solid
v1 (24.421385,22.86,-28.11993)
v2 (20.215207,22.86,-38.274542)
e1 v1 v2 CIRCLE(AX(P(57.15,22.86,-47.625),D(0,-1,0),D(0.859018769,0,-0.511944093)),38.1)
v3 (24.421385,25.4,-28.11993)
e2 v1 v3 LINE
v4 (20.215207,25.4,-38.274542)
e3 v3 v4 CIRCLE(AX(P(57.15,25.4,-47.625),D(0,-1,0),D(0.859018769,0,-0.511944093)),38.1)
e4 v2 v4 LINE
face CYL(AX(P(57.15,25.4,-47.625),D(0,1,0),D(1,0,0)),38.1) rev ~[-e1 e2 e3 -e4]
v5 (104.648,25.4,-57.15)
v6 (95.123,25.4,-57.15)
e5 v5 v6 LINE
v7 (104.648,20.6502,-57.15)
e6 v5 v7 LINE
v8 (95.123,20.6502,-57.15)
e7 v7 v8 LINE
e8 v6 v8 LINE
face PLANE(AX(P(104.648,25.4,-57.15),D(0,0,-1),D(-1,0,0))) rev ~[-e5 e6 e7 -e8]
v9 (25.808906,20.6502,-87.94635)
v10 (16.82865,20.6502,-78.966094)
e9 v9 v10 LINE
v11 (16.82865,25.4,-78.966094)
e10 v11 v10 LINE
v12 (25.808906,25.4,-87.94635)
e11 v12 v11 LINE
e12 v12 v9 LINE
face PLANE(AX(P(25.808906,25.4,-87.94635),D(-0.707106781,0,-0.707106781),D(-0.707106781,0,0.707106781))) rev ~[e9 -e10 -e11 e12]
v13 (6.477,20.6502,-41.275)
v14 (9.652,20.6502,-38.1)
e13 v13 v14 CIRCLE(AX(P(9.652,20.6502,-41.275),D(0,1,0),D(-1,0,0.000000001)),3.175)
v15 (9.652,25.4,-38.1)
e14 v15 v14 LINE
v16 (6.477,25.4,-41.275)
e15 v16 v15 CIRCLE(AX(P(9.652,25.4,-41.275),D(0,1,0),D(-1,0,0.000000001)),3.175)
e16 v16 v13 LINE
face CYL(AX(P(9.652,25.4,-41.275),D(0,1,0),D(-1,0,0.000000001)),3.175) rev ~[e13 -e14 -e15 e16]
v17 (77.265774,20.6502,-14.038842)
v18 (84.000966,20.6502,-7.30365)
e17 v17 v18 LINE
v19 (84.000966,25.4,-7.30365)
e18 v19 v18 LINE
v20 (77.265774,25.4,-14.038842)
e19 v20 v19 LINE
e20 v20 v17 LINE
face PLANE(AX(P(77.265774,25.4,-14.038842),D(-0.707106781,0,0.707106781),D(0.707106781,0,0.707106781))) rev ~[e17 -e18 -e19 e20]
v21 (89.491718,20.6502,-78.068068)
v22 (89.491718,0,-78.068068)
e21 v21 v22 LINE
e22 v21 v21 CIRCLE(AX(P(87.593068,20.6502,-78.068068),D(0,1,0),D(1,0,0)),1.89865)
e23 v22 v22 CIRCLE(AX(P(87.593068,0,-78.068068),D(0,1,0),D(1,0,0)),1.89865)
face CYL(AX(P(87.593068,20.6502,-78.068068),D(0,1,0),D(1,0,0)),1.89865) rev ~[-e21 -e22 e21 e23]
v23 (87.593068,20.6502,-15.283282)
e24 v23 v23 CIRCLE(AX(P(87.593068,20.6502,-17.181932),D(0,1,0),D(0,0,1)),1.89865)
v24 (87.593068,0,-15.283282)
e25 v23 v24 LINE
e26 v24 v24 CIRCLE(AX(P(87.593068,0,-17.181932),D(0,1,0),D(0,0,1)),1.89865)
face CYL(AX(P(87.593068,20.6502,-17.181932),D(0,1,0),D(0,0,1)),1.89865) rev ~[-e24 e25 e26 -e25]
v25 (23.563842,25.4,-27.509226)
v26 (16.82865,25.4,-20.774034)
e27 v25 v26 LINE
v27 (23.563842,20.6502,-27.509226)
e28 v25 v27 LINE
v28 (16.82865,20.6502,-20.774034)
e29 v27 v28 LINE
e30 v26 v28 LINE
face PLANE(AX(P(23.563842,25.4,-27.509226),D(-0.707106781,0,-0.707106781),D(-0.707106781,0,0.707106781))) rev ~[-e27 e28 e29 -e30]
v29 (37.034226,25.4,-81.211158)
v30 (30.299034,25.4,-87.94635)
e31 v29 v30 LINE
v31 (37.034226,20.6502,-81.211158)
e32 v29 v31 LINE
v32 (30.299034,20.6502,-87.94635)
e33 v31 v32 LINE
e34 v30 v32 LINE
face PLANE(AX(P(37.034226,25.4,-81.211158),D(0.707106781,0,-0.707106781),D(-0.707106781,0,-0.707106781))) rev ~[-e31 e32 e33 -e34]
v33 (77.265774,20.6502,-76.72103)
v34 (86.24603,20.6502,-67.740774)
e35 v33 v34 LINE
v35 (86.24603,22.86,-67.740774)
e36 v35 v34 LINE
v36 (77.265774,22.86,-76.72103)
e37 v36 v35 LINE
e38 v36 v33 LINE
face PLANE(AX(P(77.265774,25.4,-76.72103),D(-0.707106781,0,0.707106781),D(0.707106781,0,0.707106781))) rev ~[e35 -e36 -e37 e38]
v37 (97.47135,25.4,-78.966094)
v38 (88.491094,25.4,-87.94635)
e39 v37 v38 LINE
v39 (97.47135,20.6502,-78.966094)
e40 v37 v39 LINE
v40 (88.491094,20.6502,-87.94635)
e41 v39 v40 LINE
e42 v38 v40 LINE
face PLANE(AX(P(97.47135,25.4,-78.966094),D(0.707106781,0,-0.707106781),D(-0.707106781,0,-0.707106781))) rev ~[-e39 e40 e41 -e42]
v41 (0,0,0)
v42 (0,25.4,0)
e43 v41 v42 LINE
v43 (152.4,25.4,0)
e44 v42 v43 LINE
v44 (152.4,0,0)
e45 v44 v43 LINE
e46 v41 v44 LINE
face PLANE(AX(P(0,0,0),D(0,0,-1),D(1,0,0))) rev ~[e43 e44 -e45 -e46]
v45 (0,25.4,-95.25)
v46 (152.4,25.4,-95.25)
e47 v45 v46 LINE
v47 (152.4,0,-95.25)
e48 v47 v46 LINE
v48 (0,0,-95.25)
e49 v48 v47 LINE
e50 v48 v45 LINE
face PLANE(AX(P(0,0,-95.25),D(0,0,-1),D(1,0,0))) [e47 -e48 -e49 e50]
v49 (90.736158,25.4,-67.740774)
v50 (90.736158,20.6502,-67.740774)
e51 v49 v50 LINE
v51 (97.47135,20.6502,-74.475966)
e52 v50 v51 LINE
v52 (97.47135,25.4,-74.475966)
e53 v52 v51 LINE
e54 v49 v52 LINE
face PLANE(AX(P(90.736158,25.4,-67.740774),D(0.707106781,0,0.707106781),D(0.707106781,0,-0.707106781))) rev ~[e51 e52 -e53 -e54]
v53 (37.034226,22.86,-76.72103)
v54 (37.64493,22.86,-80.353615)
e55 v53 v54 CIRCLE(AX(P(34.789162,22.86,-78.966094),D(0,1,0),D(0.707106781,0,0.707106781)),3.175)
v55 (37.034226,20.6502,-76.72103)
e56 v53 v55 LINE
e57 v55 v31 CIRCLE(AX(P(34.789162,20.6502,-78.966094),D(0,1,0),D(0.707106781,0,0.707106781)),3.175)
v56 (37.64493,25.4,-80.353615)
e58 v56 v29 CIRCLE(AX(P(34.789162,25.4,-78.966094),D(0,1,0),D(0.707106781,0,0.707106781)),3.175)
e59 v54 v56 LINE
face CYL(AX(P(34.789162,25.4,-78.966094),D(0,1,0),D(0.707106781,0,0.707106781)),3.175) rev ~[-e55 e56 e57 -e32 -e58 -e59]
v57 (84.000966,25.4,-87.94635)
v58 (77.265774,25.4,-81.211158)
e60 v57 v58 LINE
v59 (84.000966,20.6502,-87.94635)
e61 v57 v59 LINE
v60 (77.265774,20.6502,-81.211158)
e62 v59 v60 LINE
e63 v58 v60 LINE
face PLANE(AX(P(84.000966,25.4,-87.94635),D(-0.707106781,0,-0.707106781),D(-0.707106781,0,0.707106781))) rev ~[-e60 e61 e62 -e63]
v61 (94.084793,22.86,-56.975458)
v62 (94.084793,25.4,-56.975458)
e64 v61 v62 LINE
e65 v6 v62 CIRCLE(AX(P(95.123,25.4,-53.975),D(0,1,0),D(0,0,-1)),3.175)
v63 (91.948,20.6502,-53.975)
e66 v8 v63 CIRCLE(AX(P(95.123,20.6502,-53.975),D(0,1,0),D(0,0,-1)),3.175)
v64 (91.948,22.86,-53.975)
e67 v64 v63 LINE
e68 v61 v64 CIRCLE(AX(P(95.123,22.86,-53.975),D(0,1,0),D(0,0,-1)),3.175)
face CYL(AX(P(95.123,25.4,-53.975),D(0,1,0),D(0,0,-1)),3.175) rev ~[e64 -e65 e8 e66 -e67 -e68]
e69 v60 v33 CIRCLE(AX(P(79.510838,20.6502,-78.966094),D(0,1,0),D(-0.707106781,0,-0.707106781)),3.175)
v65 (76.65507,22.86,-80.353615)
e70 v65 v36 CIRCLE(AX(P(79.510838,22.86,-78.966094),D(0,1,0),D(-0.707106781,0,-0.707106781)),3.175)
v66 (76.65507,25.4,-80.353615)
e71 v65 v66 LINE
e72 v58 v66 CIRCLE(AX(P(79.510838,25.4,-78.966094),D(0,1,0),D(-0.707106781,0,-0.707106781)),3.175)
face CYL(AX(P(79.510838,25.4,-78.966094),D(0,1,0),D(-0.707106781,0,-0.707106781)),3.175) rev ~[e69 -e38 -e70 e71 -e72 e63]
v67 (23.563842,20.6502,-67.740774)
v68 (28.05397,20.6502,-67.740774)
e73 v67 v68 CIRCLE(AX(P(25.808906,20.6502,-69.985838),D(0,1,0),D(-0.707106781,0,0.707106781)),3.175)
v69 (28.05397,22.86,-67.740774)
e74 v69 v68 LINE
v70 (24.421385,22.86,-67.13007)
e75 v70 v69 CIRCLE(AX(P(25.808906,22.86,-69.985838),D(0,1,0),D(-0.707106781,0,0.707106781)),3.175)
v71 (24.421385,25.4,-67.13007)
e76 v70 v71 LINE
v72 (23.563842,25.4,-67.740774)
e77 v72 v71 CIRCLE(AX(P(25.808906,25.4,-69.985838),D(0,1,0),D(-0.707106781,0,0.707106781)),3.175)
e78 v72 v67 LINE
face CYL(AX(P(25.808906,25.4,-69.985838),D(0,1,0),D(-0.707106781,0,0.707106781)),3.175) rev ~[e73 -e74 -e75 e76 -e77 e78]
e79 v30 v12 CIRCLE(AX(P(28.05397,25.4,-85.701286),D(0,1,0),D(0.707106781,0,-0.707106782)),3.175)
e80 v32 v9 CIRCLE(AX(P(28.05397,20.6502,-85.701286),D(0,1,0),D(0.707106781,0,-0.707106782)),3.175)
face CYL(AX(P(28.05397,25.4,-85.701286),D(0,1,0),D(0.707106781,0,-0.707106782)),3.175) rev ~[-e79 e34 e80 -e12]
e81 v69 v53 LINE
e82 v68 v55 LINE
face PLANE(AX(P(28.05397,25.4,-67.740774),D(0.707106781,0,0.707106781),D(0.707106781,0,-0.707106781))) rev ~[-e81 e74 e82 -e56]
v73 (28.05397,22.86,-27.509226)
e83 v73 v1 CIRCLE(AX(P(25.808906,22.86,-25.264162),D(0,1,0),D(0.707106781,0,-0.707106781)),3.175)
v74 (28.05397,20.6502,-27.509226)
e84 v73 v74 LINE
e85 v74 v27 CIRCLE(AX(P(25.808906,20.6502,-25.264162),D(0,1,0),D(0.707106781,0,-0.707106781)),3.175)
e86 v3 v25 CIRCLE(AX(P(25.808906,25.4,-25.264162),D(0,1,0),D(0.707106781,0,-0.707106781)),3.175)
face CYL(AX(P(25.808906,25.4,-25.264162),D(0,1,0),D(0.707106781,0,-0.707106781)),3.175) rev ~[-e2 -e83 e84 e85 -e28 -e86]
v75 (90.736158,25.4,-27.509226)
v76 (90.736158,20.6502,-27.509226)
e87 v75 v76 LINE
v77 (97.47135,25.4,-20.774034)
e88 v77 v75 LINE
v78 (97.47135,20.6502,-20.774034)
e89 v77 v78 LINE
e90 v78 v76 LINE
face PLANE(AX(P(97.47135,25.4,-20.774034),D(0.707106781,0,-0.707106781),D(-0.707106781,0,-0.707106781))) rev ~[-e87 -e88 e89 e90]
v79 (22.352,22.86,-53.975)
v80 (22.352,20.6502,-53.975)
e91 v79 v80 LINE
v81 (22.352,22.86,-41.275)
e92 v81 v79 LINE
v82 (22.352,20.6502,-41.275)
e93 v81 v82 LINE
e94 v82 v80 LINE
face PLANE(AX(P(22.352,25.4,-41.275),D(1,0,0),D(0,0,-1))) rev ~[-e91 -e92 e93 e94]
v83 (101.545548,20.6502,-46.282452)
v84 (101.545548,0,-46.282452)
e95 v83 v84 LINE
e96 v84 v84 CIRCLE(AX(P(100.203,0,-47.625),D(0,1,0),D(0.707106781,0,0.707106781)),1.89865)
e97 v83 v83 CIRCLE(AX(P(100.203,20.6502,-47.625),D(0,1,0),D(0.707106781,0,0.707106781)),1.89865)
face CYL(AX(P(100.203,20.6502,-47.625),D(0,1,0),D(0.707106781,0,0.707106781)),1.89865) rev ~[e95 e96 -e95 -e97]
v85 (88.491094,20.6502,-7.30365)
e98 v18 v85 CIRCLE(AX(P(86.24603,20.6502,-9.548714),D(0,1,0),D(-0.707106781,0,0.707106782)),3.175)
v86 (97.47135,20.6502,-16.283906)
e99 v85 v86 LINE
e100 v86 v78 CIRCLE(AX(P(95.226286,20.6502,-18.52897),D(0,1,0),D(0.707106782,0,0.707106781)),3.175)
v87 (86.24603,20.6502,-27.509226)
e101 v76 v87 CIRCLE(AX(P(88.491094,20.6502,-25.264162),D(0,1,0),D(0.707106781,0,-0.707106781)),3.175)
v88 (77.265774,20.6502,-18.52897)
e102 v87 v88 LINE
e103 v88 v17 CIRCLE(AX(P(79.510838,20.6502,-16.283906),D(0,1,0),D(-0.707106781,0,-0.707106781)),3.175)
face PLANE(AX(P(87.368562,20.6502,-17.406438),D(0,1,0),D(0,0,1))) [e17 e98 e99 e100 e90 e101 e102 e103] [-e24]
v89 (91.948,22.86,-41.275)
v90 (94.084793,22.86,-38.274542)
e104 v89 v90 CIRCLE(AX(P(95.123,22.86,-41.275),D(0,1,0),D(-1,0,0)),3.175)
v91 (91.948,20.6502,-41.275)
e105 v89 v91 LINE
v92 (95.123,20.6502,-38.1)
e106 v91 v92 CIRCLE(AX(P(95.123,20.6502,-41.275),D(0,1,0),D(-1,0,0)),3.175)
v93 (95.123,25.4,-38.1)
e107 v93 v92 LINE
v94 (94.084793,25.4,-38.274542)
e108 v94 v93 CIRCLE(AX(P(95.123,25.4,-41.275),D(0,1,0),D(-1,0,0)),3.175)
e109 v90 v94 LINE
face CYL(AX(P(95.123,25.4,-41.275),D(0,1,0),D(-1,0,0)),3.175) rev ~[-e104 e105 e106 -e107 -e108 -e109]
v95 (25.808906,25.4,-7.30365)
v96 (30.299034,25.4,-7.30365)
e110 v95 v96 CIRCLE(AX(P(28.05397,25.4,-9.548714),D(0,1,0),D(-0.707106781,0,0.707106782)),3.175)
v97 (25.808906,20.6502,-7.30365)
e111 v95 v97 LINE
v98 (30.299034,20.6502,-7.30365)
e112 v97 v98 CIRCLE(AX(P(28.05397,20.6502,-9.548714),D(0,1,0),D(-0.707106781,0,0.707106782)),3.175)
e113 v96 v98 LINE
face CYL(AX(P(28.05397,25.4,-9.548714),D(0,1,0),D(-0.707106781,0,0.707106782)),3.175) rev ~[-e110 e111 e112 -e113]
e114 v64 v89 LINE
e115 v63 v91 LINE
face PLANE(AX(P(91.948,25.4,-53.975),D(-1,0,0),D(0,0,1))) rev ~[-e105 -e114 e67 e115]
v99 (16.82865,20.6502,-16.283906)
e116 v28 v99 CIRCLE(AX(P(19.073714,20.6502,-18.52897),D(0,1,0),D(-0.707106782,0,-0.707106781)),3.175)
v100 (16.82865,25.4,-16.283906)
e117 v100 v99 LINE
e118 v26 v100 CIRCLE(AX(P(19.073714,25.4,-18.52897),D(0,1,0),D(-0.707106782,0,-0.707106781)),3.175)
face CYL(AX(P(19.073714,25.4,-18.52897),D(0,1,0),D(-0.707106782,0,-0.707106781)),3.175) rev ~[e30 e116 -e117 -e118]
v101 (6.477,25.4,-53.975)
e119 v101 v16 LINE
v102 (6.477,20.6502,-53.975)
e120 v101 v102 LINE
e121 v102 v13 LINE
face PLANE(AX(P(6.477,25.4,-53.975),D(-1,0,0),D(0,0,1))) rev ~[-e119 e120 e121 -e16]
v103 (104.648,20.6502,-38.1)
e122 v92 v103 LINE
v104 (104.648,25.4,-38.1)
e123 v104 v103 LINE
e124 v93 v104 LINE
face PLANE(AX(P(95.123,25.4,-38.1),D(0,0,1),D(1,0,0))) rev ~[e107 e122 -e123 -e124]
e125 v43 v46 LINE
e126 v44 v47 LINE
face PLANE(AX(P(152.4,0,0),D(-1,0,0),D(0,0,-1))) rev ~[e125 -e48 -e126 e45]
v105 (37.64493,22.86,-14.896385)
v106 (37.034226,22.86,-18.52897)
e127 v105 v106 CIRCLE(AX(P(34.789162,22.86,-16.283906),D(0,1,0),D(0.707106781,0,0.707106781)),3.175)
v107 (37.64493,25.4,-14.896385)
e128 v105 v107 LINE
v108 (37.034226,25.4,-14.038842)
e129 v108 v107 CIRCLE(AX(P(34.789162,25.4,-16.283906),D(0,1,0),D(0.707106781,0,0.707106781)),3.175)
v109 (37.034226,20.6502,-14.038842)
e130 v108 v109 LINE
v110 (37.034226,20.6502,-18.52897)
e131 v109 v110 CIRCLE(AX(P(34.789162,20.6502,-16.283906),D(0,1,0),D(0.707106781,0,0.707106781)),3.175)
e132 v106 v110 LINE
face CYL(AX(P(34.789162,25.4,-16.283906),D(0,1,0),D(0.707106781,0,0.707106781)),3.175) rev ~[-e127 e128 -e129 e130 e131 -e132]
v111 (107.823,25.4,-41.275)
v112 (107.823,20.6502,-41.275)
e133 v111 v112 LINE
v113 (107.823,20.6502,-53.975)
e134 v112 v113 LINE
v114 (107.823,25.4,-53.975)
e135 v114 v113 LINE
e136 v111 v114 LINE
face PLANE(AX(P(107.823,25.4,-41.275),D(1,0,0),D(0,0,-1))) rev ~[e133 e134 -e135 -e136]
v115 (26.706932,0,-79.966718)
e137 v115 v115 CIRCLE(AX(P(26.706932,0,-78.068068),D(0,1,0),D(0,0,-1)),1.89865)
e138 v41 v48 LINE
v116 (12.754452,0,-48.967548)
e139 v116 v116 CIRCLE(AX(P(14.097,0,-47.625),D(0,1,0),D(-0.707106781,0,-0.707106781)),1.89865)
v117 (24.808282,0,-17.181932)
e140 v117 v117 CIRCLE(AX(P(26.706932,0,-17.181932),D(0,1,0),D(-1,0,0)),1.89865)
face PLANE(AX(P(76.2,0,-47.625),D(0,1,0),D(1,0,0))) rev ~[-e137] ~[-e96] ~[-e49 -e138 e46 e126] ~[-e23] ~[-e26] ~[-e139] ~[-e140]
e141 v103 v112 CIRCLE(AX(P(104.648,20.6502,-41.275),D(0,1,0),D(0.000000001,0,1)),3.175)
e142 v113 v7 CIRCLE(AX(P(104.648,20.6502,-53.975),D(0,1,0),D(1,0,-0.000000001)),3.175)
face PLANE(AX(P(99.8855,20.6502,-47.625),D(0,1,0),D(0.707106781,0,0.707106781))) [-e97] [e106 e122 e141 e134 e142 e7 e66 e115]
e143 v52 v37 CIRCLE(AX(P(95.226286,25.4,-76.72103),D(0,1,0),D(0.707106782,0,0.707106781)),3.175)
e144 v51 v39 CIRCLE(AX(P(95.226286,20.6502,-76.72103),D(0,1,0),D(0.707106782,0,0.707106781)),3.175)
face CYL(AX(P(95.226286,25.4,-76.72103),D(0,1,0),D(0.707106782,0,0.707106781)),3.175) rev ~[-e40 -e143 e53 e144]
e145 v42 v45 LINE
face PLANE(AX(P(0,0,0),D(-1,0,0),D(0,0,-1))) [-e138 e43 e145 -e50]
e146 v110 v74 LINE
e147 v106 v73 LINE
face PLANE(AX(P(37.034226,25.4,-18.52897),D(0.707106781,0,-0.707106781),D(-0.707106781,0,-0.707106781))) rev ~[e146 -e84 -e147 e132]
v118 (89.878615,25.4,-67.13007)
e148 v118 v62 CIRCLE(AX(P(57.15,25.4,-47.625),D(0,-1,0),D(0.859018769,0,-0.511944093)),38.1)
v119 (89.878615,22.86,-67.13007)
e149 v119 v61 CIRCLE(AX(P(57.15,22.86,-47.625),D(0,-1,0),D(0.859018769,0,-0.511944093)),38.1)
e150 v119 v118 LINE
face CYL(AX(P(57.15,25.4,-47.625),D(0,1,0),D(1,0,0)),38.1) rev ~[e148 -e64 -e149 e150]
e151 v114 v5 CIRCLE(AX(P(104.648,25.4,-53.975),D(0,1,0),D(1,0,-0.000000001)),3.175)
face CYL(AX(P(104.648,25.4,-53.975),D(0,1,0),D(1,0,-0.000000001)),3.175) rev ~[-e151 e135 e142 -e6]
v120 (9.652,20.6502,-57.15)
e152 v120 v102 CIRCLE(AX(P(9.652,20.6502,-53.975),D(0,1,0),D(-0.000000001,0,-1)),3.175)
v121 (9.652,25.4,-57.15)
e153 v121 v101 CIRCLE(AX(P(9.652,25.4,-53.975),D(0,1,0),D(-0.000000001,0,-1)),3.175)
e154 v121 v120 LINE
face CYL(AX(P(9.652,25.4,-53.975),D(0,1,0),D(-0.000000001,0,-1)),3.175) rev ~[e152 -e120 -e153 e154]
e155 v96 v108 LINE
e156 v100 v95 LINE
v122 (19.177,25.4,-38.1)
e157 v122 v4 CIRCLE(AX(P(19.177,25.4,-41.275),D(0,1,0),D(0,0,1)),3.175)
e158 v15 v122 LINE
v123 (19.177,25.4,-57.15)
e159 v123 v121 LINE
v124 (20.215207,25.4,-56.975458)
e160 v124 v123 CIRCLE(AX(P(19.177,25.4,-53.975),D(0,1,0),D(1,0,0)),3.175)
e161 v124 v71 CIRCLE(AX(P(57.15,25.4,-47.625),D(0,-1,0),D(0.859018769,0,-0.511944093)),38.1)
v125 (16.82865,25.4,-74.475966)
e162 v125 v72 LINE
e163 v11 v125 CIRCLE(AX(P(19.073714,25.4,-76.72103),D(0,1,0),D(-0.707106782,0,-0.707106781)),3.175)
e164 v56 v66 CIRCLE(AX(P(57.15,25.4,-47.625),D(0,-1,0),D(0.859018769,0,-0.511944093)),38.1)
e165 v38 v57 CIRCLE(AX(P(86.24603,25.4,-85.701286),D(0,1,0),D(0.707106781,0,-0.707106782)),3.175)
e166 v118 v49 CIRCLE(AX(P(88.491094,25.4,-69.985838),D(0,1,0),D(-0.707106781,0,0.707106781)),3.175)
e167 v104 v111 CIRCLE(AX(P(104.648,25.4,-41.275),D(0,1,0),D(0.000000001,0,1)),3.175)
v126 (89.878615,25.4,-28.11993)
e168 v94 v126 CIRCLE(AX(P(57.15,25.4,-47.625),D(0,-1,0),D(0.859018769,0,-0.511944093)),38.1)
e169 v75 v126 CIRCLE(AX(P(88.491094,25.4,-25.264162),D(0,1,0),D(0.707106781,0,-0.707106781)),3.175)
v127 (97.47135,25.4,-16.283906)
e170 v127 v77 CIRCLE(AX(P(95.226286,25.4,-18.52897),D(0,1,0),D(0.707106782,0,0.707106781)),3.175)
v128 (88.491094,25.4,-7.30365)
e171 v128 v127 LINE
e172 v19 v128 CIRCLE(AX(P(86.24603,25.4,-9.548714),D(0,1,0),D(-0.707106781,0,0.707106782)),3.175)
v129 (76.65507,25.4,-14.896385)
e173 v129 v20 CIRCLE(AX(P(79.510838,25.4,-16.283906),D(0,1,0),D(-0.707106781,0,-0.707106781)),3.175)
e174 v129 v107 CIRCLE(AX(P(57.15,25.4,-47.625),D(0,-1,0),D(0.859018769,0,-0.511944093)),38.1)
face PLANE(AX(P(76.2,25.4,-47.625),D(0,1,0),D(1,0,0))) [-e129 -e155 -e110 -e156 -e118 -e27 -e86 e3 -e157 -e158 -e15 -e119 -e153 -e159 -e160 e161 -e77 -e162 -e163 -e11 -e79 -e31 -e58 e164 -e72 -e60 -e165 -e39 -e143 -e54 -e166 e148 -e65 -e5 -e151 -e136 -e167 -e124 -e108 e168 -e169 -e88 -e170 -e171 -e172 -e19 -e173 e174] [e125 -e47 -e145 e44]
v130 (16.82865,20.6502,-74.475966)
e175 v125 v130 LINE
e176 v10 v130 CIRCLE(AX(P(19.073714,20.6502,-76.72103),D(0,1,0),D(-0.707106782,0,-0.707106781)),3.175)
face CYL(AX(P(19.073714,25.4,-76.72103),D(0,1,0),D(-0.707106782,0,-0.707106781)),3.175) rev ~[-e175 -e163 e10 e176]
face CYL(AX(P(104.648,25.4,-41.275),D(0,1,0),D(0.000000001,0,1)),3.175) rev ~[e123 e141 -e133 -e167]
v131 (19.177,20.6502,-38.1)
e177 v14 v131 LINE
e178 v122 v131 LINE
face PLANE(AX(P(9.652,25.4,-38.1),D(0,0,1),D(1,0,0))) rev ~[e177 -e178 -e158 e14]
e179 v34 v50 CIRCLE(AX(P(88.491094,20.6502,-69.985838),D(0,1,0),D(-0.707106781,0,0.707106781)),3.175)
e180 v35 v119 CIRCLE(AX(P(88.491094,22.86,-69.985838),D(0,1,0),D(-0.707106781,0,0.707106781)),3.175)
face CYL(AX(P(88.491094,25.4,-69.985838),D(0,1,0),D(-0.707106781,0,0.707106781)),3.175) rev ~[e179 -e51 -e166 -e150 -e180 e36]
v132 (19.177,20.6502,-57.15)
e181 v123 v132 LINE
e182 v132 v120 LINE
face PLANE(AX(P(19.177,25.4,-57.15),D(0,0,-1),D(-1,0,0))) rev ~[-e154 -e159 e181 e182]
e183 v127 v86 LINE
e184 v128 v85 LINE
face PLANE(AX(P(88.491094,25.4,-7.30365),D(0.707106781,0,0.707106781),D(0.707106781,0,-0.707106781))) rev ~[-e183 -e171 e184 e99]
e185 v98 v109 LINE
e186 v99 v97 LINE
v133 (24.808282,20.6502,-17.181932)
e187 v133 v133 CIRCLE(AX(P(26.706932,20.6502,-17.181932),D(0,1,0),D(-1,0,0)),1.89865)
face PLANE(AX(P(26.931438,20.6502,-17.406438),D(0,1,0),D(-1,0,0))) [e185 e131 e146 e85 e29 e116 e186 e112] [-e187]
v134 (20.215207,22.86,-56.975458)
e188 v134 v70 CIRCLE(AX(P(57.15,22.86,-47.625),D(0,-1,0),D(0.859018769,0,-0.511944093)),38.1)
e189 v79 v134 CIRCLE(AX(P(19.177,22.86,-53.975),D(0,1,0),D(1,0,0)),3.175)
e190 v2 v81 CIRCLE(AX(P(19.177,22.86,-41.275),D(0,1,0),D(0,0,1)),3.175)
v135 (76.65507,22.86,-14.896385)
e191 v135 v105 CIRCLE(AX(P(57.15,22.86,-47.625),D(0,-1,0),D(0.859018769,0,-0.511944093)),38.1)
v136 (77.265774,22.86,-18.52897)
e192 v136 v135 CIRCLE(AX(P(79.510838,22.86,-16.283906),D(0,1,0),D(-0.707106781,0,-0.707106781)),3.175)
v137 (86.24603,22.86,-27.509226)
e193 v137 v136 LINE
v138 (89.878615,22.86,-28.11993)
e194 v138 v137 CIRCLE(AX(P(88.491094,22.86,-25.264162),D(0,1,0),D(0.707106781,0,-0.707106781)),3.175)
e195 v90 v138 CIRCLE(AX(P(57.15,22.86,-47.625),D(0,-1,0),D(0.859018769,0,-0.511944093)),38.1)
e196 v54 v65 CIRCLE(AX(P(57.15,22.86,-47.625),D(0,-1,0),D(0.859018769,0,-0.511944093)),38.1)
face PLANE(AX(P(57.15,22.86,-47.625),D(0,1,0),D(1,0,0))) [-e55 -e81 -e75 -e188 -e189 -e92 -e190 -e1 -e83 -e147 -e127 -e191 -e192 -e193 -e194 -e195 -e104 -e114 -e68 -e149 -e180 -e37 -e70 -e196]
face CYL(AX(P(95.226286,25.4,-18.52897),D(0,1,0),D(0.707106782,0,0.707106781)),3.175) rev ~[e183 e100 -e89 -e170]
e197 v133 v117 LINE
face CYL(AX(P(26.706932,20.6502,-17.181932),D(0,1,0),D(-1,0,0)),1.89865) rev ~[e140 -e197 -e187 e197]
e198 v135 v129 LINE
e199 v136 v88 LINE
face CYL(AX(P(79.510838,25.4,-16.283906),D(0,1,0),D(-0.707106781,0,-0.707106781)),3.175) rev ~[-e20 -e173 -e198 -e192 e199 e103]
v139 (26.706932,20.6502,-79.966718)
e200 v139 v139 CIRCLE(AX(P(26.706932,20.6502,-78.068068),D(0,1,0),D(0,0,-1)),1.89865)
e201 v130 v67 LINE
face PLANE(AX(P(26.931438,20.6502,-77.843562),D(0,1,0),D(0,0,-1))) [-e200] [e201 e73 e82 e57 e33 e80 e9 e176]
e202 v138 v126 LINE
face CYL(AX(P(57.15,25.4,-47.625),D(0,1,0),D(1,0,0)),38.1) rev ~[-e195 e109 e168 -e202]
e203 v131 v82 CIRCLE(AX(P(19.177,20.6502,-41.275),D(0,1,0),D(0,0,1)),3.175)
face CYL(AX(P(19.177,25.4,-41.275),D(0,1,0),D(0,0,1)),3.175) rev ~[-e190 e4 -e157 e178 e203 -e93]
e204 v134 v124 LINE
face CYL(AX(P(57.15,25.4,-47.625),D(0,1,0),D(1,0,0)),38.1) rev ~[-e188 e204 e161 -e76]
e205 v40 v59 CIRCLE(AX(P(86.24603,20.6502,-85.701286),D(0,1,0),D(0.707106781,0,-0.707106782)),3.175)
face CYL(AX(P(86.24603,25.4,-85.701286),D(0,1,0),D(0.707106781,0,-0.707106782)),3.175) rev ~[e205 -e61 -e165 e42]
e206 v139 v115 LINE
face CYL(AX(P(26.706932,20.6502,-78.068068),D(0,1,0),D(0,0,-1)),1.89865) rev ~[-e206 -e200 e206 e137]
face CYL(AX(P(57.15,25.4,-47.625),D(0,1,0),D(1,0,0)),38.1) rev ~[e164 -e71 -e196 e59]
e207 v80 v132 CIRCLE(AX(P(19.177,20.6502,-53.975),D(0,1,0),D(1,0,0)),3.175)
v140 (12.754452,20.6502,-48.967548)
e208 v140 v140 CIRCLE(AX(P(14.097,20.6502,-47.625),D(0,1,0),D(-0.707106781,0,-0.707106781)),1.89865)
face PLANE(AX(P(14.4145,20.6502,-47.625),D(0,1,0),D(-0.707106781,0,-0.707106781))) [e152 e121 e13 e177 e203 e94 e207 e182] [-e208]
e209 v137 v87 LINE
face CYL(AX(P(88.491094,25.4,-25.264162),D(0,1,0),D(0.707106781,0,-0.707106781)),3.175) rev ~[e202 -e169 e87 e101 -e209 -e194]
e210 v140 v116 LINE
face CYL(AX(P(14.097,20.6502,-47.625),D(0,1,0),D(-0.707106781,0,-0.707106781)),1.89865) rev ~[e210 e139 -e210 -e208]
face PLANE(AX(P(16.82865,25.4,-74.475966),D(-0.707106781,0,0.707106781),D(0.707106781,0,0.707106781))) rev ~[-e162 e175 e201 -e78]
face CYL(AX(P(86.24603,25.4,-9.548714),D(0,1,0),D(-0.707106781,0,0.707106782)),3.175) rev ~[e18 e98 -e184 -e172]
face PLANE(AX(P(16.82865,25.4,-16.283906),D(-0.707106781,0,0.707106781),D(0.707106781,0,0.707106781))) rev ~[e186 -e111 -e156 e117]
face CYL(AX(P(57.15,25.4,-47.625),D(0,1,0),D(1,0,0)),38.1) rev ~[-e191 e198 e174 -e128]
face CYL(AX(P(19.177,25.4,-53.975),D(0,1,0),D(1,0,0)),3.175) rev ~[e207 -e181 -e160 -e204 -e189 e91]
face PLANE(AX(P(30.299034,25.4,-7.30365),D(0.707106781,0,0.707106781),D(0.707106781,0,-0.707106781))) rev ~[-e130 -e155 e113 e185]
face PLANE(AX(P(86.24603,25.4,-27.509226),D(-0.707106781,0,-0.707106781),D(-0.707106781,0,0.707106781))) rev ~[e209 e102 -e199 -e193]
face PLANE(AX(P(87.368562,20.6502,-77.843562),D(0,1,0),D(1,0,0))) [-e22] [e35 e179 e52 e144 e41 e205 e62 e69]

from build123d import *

# Parameters (mm, degrees)
SKETCH1_W                       = 152.4
SKETCH1_H                       = 95.25
BOSS_EXTRUDE1_DEPTH             = 25.4
SKETCH2_R                       = 38.1
F_3IN_POCKET_DEPTH              = 2.54
CLAMP_POCKET_DEPTH              = 4.7498
SKETCH4_R                       = 1.89865
NO25_THREAD_FORM_FOR_8_32_DEPTH = 20.6502
FOUR_CLAMPS_COUNT               = 4
F_180_CLAMP_COUNT               = 2
F_180_CLAMP_ANGLE               = 135
F_360_CLAMP_COUNT               = 2
F_360_CLAMP_ANGLE               = 315


with BuildPart() as part:
    # Sketch1 → Boss-Extrude1 (new body)
    with BuildSketch(Plane(origin=(0, 0, 0), x_dir=(1, 0, 0), z_dir=(0, 1, 0))):
        with Locations((76.2, 47.625)):
            Rectangle(SKETCH1_W, SKETCH1_H)
    extrude(amount=BOSS_EXTRUDE1_DEPTH)

    # Sketch2 → 3in Pocket (cut)
    with BuildSketch(Plane(origin=(0, 25.4, 0), x_dir=(1, 0, 0), z_dir=(0, 1, 0))):
        with Locations((57.15, 47.625)):
            Circle(SKETCH2_R)
    extrude(amount=-F_3IN_POCKET_DEPTH, mode=Mode.SUBTRACT)

    # Sketch3 → Clamp Pocket (cut)
    with BuildSketch(Plane(origin=(0, 25.4, 0), x_dir=(1, 0, 0), z_dir=(0, 1, 0))):
        with BuildLine():
            Line((90.736157893, 67.740773711), (97.471349984, 74.475965802))
            ThreePointArc((97.471349984, 74.475965802), (98.401285953, 76.721029832), (97.471349984, 78.966093863))
            Line((97.471349984, 78.966093863), (88.491093863, 87.946349984))
            ThreePointArc((88.491093863, 87.946349984), (86.246029832, 88.876285953), (84.000965802, 87.946349984))
            Line((84.000965802, 87.946349984), (77.265773711, 81.211157893))
            ThreePointArc((77.265773711, 81.211157893), (76.335837741, 78.966093863), (77.265773711, 76.721029832))
            Line((77.265773711, 76.721029832), (86.246029832, 67.740773711))
            ThreePointArc((86.246029832, 67.740773711), (88.491093863, 66.810837741), (90.736157893, 67.740773711))
        make_face()
    clamp_pocket = extrude(amount=-CLAMP_POCKET_DEPTH, mode=Mode.SUBTRACT)

    # Sketch4 → No25 Thread Form for 8-32 (cut)
    with BuildSketch(Plane(origin=(0, 20.6502, 0), x_dir=(1, 0, 0), z_dir=(0, 1, 0))):
        with Locations((87.59306825, 78.06806825)):
            Circle(SKETCH4_R)
    no25_thread_form_for_8_32 = extrude(amount=-NO25_THREAD_FORM_FOR_8_32_DEPTH, mode=Mode.SUBTRACT)

    # Four Clamps: Clamp Pocket, No25 Thread Form for 8-32 ×4 about axis
    four_clamps_axis = Axis((57.15, 0, -47.625), (0, 1, 0))
    for i in range(1, FOUR_CLAMPS_COUNT):
        add(clamp_pocket.rotate(four_clamps_axis, i * 360 / FOUR_CLAMPS_COUNT), mode=Mode.SUBTRACT)
        add(no25_thread_form_for_8_32.rotate(four_clamps_axis, i * 360 / FOUR_CLAMPS_COUNT), mode=Mode.SUBTRACT)

    # 180 Clamp: Clamp Pocket, No25 Thread Form for 8-32 ×2 about axis
    f_180_clamp_axis = Axis((57.15, 0, -47.625), (0, 1, 0))
    for i in range(1, F_180_CLAMP_COUNT):
        add(clamp_pocket.rotate(f_180_clamp_axis, i * F_180_CLAMP_ANGLE / (F_180_CLAMP_COUNT - 1)), mode=Mode.SUBTRACT)
        add(no25_thread_form_for_8_32.rotate(f_180_clamp_axis, i * F_180_CLAMP_ANGLE / (F_180_CLAMP_COUNT - 1)), mode=Mode.SUBTRACT)

    # 360 Clamp: Clamp Pocket, No25 Thread Form for 8-32 ×2 about axis
    f_360_clamp_axis = Axis((57.15, 25.4, -47.625), (0, 1, 0))
    for i in range(1, F_360_CLAMP_COUNT):
        add(clamp_pocket.rotate(f_360_clamp_axis, i * F_360_CLAMP_ANGLE / (F_360_CLAMP_COUNT - 1)), mode=Mode.SUBTRACT)
        add(no25_thread_form_for_8_32.rotate(f_360_clamp_axis, i * F_360_CLAMP_ANGLE / (F_360_CLAMP_COUNT - 1)), mode=Mode.SUBTRACT)


solid = part.part
